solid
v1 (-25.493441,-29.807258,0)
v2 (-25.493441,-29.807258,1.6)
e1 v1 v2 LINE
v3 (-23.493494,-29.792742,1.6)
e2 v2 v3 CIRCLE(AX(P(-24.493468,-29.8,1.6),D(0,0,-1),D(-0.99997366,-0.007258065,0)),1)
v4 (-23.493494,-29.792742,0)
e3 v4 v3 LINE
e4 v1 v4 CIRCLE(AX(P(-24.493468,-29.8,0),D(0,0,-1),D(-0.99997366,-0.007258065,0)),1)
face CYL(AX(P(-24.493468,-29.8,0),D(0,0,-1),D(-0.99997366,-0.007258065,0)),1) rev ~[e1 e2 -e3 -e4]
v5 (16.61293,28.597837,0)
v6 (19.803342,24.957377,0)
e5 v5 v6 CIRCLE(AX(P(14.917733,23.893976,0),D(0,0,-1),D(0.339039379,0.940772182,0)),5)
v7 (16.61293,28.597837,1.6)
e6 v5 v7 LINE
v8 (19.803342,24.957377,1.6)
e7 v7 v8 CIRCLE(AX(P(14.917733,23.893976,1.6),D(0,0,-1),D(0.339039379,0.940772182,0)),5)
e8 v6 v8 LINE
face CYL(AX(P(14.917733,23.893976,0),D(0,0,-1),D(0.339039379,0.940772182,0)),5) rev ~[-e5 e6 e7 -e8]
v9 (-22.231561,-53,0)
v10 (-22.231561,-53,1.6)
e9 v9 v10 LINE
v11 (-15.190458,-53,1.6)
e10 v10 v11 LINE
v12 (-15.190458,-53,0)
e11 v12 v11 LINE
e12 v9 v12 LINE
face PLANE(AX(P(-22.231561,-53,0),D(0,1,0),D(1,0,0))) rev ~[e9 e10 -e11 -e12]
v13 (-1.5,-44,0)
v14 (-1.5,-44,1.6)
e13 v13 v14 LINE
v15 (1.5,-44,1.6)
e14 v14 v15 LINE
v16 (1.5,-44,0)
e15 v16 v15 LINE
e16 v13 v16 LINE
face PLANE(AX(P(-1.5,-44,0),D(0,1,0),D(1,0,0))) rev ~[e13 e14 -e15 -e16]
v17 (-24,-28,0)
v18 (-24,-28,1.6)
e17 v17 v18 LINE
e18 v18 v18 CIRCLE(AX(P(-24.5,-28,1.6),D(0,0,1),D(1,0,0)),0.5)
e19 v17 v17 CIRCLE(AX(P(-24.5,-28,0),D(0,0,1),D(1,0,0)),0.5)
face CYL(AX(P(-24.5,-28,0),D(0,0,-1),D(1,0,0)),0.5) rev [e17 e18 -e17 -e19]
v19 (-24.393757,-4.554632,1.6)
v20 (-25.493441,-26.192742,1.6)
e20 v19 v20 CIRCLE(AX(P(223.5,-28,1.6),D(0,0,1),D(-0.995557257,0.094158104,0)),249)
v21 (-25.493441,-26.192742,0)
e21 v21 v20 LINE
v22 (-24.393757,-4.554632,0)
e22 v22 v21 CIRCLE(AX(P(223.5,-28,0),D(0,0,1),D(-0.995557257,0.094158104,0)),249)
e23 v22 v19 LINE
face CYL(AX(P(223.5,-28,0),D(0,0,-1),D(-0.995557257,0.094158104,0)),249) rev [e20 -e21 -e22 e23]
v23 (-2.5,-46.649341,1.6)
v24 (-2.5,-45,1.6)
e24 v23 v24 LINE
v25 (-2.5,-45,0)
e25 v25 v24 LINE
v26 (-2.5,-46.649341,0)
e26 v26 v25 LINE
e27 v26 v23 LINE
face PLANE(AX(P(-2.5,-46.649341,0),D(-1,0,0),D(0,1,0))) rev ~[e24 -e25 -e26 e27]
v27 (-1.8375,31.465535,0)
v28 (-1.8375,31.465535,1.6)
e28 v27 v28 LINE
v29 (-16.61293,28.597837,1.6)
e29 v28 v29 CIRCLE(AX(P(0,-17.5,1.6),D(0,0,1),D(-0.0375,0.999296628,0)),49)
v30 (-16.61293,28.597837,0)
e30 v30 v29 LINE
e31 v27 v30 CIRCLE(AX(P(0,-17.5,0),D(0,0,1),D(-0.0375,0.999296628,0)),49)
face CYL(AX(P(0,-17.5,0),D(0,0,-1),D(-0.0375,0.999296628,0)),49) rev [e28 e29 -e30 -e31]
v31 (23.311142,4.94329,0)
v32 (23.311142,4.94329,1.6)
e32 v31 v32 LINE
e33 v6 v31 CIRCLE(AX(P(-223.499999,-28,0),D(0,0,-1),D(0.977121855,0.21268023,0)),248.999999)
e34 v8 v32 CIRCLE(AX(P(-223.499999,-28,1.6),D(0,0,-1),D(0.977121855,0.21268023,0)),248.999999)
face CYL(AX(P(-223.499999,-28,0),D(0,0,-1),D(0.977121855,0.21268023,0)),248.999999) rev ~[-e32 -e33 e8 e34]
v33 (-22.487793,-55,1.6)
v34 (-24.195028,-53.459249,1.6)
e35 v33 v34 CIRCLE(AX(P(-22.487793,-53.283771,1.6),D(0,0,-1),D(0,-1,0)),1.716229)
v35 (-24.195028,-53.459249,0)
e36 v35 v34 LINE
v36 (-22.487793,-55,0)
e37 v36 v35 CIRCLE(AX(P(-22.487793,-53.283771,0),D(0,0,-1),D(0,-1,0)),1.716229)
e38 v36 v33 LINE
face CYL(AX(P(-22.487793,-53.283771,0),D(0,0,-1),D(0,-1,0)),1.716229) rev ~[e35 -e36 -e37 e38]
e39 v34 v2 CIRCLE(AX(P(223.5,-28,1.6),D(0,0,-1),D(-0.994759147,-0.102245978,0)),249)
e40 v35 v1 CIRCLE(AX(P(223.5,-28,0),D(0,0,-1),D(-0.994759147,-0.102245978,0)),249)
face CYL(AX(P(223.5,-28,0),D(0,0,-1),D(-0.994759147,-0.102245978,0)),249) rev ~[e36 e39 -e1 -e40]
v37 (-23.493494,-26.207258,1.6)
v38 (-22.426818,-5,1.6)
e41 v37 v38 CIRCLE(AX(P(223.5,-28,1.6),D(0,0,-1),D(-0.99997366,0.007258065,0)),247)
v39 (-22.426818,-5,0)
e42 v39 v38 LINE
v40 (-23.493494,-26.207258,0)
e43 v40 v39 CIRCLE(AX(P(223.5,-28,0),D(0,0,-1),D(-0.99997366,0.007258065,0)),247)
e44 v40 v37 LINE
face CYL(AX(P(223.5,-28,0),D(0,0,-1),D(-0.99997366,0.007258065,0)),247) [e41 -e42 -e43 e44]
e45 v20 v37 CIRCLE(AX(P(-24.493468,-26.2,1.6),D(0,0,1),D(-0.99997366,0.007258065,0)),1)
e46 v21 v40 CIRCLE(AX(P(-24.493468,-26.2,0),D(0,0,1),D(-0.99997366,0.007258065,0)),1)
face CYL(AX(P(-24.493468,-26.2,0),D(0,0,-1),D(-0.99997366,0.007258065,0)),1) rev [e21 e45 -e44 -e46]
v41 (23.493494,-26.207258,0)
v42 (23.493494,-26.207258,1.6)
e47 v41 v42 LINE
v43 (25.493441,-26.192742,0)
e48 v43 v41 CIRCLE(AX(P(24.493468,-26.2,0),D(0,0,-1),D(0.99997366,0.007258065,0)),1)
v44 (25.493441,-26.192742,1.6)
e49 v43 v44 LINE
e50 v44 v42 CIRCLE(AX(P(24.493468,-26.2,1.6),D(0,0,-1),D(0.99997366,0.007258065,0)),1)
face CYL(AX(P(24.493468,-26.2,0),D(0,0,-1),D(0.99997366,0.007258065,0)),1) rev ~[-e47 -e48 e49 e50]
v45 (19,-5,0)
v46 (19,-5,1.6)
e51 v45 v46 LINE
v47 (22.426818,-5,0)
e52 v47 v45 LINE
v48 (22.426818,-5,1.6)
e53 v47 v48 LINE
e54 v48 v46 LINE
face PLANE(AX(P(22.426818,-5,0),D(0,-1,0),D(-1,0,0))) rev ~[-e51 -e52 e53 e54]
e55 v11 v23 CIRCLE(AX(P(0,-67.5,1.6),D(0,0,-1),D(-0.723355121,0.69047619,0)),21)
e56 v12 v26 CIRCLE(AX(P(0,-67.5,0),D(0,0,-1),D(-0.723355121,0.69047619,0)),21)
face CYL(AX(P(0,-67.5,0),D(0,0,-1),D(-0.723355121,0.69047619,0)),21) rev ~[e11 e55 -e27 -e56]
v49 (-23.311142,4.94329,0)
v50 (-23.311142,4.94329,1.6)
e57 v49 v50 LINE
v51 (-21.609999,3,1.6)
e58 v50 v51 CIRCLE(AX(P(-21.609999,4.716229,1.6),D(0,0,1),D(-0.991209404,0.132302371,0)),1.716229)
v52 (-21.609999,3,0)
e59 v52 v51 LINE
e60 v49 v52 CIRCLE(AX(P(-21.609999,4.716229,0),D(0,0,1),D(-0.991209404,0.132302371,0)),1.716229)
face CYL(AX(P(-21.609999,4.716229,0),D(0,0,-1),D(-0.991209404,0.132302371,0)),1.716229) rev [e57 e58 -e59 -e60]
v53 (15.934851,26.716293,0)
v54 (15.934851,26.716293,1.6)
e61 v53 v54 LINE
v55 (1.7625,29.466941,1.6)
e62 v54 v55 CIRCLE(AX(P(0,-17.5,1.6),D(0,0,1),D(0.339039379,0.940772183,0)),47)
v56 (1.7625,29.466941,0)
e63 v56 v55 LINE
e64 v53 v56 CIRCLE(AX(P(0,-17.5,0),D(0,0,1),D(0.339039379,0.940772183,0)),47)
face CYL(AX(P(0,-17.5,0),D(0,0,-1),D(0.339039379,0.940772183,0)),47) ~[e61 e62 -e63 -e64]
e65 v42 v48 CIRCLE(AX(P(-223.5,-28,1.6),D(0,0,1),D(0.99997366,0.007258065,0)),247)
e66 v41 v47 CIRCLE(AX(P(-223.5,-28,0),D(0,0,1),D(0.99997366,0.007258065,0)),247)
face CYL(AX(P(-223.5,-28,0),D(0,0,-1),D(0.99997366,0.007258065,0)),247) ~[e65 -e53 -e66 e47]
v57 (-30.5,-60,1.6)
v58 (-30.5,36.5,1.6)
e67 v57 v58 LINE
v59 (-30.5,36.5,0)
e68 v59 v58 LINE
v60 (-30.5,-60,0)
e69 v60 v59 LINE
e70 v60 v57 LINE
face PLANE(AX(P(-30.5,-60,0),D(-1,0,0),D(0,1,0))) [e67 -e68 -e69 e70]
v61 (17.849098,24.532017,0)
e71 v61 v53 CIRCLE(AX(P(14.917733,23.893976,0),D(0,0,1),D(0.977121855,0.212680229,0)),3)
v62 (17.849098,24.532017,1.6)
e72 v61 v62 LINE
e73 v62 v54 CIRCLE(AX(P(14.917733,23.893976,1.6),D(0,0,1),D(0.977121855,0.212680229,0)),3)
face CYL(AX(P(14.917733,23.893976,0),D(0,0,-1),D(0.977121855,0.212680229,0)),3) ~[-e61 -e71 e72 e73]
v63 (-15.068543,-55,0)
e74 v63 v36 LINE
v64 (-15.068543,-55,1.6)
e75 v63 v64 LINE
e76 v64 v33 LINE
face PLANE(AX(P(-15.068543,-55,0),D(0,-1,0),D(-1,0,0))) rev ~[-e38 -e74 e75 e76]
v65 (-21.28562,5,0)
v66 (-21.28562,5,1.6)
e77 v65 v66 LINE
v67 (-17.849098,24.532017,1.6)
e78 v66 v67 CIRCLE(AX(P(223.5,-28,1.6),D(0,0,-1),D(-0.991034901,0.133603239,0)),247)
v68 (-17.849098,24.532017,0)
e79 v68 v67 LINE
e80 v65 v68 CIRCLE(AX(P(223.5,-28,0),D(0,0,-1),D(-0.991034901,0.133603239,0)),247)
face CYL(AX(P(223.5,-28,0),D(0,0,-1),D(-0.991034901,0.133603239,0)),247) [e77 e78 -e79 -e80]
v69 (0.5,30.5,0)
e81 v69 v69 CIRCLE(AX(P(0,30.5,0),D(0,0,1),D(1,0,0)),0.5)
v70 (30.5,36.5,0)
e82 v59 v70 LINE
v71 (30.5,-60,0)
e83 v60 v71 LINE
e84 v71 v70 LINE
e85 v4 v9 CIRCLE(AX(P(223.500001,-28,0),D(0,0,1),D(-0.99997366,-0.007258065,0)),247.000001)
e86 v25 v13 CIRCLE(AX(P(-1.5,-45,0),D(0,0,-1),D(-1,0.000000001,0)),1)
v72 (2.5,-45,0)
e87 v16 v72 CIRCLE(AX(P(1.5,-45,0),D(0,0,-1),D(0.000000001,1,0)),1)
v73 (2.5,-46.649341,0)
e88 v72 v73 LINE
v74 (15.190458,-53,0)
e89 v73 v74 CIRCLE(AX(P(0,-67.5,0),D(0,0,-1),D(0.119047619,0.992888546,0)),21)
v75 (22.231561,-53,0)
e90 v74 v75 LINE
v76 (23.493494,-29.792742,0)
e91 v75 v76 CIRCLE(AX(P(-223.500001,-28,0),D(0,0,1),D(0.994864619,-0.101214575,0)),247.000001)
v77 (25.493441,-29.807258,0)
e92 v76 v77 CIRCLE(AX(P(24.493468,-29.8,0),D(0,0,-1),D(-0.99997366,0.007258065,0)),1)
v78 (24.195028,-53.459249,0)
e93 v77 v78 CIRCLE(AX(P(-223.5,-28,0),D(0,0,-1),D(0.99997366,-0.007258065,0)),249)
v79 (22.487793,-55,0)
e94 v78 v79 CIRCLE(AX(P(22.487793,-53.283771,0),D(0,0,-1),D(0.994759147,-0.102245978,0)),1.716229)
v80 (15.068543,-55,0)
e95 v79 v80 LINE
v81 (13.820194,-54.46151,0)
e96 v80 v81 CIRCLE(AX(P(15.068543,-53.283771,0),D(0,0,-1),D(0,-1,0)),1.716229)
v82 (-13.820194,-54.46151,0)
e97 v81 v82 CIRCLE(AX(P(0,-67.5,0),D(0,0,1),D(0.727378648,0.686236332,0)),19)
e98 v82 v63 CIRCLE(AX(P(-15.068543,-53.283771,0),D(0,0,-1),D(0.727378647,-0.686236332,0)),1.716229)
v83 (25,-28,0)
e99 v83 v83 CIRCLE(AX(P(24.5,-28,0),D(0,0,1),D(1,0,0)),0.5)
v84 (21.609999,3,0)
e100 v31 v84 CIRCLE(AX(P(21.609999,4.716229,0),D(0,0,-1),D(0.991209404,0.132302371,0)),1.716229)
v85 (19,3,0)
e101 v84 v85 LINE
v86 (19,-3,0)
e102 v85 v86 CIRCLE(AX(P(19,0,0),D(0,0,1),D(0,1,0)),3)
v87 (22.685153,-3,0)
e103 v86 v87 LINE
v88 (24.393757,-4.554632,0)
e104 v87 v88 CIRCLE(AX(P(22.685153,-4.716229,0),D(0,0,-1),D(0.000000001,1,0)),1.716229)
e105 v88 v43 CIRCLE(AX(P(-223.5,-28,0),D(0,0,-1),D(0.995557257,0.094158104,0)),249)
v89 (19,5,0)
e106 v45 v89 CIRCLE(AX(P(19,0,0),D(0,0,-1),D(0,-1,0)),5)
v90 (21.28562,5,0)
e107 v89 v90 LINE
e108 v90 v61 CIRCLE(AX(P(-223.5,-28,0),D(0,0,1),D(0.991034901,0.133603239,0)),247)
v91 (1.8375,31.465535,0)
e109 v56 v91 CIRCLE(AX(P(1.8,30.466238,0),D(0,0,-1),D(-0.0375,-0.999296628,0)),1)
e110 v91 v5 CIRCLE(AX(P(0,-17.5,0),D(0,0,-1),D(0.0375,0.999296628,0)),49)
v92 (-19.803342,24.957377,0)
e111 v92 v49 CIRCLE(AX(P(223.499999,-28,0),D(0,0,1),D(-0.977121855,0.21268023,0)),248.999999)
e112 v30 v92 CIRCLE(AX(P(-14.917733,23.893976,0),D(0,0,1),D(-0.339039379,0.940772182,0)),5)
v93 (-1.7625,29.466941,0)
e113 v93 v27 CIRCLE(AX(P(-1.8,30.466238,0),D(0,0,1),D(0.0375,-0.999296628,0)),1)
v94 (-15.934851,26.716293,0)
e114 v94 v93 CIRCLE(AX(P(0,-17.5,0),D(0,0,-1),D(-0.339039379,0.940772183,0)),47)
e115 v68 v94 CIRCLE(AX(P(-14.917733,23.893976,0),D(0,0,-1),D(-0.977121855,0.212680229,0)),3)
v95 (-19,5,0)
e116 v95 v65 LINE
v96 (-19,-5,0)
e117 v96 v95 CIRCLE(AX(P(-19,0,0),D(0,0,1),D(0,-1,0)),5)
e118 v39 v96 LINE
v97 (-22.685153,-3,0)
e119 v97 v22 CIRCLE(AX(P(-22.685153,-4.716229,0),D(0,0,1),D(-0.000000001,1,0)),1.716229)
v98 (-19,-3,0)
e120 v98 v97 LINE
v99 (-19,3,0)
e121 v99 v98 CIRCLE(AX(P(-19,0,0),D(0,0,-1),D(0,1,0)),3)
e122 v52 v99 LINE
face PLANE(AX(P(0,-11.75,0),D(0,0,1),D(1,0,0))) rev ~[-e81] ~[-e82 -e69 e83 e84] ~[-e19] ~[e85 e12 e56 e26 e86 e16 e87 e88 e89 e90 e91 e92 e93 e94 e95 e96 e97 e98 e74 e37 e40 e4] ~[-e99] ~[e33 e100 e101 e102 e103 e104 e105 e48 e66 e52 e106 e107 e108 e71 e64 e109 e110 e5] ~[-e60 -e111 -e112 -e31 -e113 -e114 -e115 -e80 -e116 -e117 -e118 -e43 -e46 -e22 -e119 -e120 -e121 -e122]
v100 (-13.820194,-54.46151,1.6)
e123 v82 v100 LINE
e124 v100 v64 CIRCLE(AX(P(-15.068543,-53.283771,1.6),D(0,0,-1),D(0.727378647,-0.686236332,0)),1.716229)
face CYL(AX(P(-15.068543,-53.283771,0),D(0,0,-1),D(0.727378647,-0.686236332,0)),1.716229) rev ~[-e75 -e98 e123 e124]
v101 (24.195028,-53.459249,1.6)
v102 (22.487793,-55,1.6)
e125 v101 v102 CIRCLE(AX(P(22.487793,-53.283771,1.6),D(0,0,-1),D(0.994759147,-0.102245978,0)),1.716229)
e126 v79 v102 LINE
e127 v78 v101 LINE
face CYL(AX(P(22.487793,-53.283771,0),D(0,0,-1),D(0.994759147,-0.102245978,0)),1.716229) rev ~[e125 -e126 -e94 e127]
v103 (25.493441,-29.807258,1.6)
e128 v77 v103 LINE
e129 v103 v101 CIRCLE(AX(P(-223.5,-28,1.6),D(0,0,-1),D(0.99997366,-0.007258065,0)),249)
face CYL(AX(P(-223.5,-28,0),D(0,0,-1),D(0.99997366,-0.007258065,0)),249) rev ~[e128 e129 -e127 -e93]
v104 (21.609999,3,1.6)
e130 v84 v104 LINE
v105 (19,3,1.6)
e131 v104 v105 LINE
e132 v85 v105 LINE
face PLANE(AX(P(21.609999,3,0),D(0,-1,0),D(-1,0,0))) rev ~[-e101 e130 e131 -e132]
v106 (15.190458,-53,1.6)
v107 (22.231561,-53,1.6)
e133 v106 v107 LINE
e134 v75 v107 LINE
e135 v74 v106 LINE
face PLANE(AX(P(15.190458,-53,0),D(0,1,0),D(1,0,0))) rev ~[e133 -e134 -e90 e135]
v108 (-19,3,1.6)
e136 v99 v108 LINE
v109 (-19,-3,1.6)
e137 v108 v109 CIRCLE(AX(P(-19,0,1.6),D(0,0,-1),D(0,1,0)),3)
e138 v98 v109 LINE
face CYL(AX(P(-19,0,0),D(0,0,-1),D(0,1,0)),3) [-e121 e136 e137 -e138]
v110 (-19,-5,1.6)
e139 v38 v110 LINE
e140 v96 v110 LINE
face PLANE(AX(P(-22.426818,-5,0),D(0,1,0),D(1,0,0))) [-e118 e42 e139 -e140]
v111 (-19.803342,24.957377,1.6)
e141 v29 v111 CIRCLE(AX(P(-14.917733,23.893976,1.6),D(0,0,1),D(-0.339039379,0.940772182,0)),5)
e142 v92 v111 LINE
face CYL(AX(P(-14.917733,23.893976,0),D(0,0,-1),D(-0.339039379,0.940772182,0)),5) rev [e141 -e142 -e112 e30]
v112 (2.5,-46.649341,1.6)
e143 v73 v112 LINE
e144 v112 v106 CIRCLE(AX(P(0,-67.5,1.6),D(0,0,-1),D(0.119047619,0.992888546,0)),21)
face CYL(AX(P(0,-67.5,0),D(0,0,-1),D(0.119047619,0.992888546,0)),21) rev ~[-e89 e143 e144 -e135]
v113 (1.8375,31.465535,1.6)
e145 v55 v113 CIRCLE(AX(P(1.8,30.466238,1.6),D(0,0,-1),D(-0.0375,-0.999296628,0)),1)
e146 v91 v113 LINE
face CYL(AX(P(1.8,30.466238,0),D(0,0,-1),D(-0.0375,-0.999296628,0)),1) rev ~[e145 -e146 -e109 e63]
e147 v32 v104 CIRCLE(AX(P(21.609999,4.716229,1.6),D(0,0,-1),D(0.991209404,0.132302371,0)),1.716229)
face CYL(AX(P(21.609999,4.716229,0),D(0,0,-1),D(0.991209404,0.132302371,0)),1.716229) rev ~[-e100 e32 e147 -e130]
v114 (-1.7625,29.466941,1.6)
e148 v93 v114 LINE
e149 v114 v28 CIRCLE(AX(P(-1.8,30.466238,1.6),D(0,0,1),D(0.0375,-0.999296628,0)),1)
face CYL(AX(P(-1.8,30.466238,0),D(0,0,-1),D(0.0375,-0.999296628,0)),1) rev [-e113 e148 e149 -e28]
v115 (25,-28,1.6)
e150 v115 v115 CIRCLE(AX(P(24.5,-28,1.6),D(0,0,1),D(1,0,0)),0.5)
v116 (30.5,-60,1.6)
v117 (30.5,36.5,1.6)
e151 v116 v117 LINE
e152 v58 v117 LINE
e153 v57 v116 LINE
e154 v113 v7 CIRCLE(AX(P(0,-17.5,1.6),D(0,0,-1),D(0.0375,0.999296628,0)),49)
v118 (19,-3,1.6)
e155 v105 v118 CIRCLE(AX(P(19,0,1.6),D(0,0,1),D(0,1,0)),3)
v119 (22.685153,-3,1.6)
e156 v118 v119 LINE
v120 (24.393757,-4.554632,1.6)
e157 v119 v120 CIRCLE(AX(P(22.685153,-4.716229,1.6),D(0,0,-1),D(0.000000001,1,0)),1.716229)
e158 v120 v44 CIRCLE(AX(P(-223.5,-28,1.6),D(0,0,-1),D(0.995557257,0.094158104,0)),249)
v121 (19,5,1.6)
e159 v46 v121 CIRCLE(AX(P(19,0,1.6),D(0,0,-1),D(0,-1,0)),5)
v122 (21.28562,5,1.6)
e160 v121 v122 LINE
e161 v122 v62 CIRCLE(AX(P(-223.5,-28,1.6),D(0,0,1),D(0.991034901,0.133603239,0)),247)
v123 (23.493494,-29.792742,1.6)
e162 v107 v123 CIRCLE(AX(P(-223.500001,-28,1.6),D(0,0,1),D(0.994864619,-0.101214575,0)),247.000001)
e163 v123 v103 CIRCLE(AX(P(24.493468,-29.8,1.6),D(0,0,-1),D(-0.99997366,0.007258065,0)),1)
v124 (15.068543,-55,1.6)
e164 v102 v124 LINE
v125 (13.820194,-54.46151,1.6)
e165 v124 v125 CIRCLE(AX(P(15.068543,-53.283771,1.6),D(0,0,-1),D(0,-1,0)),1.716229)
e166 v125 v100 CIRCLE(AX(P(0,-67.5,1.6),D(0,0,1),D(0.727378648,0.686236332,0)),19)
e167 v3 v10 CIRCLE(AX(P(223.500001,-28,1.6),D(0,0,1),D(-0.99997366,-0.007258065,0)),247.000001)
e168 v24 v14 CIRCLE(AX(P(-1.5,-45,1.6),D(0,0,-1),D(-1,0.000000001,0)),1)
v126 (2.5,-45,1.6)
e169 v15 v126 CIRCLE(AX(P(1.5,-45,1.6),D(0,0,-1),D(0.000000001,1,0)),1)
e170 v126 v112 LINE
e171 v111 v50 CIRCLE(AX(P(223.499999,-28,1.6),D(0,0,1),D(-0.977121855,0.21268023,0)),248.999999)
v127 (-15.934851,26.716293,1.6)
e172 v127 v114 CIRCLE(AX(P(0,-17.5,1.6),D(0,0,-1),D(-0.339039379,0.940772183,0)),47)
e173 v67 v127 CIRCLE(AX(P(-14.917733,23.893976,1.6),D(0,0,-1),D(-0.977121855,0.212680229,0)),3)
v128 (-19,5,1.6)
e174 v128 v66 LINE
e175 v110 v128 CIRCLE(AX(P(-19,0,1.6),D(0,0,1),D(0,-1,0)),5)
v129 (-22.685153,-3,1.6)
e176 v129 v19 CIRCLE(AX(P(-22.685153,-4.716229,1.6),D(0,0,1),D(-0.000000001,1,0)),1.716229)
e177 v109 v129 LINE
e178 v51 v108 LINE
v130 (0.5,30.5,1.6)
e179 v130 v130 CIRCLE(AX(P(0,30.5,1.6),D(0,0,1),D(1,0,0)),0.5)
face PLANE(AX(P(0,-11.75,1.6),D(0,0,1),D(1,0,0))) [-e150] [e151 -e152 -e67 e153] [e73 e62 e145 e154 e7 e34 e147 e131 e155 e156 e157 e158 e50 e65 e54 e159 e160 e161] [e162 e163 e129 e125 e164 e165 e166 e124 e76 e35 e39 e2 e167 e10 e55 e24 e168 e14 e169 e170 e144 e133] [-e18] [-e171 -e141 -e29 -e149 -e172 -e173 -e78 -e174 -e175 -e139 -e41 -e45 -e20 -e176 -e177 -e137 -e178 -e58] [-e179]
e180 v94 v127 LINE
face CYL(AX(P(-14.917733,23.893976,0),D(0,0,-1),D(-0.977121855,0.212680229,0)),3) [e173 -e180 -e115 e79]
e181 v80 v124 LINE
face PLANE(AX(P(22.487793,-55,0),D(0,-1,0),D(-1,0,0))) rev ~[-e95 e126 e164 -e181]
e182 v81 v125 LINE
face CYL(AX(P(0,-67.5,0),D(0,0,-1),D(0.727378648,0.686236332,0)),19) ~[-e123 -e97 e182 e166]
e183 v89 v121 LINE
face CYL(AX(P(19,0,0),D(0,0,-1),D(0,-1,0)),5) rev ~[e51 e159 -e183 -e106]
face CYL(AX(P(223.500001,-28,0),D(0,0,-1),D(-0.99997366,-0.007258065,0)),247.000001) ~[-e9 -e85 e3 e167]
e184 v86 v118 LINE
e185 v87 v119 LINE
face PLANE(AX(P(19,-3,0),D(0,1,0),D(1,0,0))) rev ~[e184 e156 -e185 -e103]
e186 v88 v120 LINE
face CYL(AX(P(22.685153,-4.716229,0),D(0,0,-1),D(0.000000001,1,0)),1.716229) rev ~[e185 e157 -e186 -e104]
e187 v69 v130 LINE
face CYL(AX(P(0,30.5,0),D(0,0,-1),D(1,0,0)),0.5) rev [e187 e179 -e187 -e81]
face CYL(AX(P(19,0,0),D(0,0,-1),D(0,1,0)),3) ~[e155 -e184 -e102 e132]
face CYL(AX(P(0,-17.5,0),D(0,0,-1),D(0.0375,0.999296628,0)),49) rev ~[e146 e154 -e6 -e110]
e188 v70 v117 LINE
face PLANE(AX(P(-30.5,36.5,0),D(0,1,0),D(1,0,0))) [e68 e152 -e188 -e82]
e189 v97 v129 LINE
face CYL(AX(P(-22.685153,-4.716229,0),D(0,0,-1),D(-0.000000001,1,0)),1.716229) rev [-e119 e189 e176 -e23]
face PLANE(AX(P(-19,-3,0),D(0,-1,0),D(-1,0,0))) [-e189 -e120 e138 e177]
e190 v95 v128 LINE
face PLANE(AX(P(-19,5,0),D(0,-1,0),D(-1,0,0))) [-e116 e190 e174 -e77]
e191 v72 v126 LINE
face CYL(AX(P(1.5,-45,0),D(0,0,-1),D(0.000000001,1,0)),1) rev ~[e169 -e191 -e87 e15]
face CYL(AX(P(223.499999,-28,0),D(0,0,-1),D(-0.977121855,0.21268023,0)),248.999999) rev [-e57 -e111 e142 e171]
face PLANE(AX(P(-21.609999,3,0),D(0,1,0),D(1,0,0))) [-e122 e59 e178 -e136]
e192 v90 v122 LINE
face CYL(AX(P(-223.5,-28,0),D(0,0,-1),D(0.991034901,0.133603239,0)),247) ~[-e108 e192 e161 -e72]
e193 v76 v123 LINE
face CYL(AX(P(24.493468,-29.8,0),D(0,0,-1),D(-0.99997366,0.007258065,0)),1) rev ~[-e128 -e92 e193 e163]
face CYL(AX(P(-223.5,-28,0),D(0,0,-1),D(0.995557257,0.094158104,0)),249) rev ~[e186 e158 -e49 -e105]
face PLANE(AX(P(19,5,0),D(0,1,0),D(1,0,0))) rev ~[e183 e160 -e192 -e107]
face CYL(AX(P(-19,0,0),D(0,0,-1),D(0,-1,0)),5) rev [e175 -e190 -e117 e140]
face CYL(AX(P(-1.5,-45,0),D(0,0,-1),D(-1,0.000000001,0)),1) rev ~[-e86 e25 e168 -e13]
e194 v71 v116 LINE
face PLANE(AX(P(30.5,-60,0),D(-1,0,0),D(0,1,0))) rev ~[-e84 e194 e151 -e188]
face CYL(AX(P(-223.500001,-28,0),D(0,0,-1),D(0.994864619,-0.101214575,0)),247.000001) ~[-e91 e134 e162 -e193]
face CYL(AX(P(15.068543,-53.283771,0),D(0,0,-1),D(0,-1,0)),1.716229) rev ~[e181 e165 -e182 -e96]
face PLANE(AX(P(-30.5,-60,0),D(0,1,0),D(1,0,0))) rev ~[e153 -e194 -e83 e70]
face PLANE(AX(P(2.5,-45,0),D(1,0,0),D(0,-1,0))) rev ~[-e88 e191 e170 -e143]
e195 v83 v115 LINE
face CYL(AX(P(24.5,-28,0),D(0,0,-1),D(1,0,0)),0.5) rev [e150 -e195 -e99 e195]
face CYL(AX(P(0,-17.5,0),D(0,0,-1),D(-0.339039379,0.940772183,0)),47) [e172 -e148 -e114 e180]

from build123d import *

# Parameters (mm, degrees)
SKIZZE1_W                       = 61
SKIZZE1_H                       = 96.5
SKIZZE1_R                       = 0.5
AUFSATZ_LINEAR_AUSTRAGEN1_DEPTH = 1.6


with BuildPart() as part:
    # Skizze1 → Aufsatz-Linear austragen1 (new body)
    with BuildSketch(Plane.XY):
        with Locations((0, -11.75)):
            Rectangle(SKIZZE1_W, SKIZZE1_H)
        with Locations((0, 30.5)):
            Circle(SKIZZE1_R, mode=Mode.SUBTRACT)
        with Locations((-24.5, -28)):
            Circle(SKIZZE1_R, mode=Mode.SUBTRACT)
        with Locations((24.5, -28)):
            Circle(SKIZZE1_R, mode=Mode.SUBTRACT)
        with BuildLine():
            Line((-22.231560855, -53), (-15.190457531, -53))
            ThreePointArc((-15.190457531, -53), (-9.397914174, -48.720244698), (-2.5, -46.649340538))
            Line((-2.5, -46.649340538), (-2.5, -45))
            ThreePointArc((-2.5, -45), (-2.207106781, -44.292893219), (-1.5, -44))
            Line((-1.5, -44), (1.5, -44))
            ThreePointArc((1.5, -44), (2.207106781, -44.292893219), (2.5, -45))
            Line((2.5, -45), (2.5, -46.649340538))
            ThreePointArc((2.5, -46.649340538), (9.397914174, -48.720244698), (15.190457531, -53))
            Line((15.190457531, -53), (22.231560855, -53))
            ThreePointArc((22.231560855, -53), (23.135640421, -41.41122194), (23.493493996, -29.792741935))
            ThreePointArc((23.493493996, -29.792741935), (24.50072572, -28.80002634), (25.493441316, -29.807258065))
            ThreePointArc((25.493441316, -29.807258065), (25.125648184, -41.648701954), (24.195027533, -53.459248528))
            ThreePointArc((24.195027533, -53.459248528), (23.637637029, -54.557859223), (22.487793054, -55))
            Line((22.487793054, -55), (15.068542623, -55))
            ThreePointArc((15.068542623, -55), (14.388773301, -54.859637633), (13.820194306, -54.461509699))
            ThreePointArc((13.820194306, -54.461509699), (0, -48.5), (-13.820194306, -54.461509699))
            ThreePointArc((-13.820194306, -54.461509699), (-14.388773301, -54.859637633), (-15.068542623, -55))
            Line((-15.068542623, -55), (-22.487793054, -55))
            ThreePointArc((-22.487793054, -55), (-23.637637029, -54.557859223), (-24.195027533, -53.459248528))
            ThreePointArc((-24.195027533, -53.459248528), (-25.125648184, -41.648701954), (-25.493441316, -29.807258065))
            ThreePointArc((-25.493441316, -29.807258065), (-24.50072572, -28.80002634), (-23.493493996, -29.792741935))
            ThreePointArc((-23.493493996, -29.792741935), (-23.135640421, -41.41122194), (-22.231560855, -53))
        make_face(mode=Mode.SUBTRACT)
        with BuildLine():
            Line((-19, 5), (-21.285620493, 5))
            ThreePointArc((-21.285620493, 5), (-19.763470557, 14.80051276), (-17.849098235, 24.532016724))
            ThreePointArc((-17.849098235, 24.532016724), (-17.173923296, 25.871247857), (-15.934850806, 26.716292583))
            ThreePointArc((-15.934850806, 26.716292583), (-8.95491897, 28.639022814), (-1.7625, 29.466941499))
            ThreePointArc((-1.7625, 29.466941499), (-0.800703372, 30.503738126), (-1.8375, 31.465534754))
            ThreePointArc((-1.8375, 31.465534754), (-9.335979351, 30.602385487), (-16.612929564, 28.597836948))
            ThreePointArc((-16.612929564, 28.597836948), (-18.67805038, 27.189429071), (-19.803341946, 24.957377183))
            ThreePointArc((-19.803341946, 24.957377183), (-21.761478169, 14.986129467), (-23.311141633, 4.943290145))
            ThreePointArc((-23.311141633, 4.943290145), (-22.901341819, 3.585796991), (-21.609999326, 3))
            Line((-21.609999326, 3), (-19, 3))
            ThreePointArc((-19, 3), (-16, 0), (-19, -3))
            Line((-19, -3), (-22.685152712, -3))
            ThreePointArc((-22.685152712, -3), (-23.84016455, -3.446823778), (-24.39375693, -4.554632116))
            ThreePointArc((-24.39375693, -4.554632116), (-25.179058013, -15.361720617), (-25.493441316, -26.192741935))
            ThreePointArc((-25.493441316, -26.192741935), (-24.50072572, -27.19997366), (-23.493493996, -26.207258065))
            ThreePointArc((-23.493493996, -26.207258065), (-23.188154433, -15.592161252), (-22.426818383, -5))
            Line((-22.426818383, -5), (-19, -5))
            ThreePointArc((-19, -5), (-14, 0), (-19, 5))
        make_face(mode=Mode.SUBTRACT)
        with BuildLine():
            Line((19, 5), (21.285620493, 5))
            ThreePointArc((21.285620493, 5), (19.763470557, 14.80051276), (17.849098235, 24.532016724))
            ThreePointArc((17.849098235, 24.532016724), (17.173923296, 25.871247857), (15.934850806, 26.716292583))
            ThreePointArc((15.934850806, 26.716292583), (8.95491897, 28.639022814), (1.7625, 29.466941499))
            ThreePointArc((1.7625, 29.466941499), (0.800703372, 30.503738126), (1.8375, 31.465534754))
            ThreePointArc((1.8375, 31.465534754), (9.335979351, 30.602385487), (16.612929564, 28.597836948))
            ThreePointArc((16.612929564, 28.597836948), (18.67805038, 27.189429071), (19.803341946, 24.957377183))
            ThreePointArc((19.803341946, 24.957377183), (21.761478169, 14.986129467), (23.311141633, 4.943290145))
            ThreePointArc((23.311141633, 4.943290145), (22.901341819, 3.585796991), (21.609999326, 3))
            Line((21.609999326, 3), (19, 3))
            ThreePointArc((19, 3), (16, 0), (19, -3))
            Line((19, -3), (22.685152712, -3))
            ThreePointArc((22.685152712, -3), (23.84016455, -3.446823778), (24.39375693, -4.554632116))
            ThreePointArc((24.39375693, -4.554632116), (25.179058013, -15.361720617), (25.493441316, -26.192741935))
            ThreePointArc((25.493441316, -26.192741935), (24.50072572, -27.19997366), (23.493493996, -26.207258065))
            ThreePointArc((23.493493996, -26.207258065), (23.188154433, -15.592161252), (22.426818383, -5))
            Line((22.426818383, -5), (19, -5))
            ThreePointArc((19, -5), (14, 0), (19, 5))
        make_face(mode=Mode.SUBTRACT)
    extrude(amount=AUFSATZ_LINEAR_AUSTRAGEN1_DEPTH)


solid = part.part
